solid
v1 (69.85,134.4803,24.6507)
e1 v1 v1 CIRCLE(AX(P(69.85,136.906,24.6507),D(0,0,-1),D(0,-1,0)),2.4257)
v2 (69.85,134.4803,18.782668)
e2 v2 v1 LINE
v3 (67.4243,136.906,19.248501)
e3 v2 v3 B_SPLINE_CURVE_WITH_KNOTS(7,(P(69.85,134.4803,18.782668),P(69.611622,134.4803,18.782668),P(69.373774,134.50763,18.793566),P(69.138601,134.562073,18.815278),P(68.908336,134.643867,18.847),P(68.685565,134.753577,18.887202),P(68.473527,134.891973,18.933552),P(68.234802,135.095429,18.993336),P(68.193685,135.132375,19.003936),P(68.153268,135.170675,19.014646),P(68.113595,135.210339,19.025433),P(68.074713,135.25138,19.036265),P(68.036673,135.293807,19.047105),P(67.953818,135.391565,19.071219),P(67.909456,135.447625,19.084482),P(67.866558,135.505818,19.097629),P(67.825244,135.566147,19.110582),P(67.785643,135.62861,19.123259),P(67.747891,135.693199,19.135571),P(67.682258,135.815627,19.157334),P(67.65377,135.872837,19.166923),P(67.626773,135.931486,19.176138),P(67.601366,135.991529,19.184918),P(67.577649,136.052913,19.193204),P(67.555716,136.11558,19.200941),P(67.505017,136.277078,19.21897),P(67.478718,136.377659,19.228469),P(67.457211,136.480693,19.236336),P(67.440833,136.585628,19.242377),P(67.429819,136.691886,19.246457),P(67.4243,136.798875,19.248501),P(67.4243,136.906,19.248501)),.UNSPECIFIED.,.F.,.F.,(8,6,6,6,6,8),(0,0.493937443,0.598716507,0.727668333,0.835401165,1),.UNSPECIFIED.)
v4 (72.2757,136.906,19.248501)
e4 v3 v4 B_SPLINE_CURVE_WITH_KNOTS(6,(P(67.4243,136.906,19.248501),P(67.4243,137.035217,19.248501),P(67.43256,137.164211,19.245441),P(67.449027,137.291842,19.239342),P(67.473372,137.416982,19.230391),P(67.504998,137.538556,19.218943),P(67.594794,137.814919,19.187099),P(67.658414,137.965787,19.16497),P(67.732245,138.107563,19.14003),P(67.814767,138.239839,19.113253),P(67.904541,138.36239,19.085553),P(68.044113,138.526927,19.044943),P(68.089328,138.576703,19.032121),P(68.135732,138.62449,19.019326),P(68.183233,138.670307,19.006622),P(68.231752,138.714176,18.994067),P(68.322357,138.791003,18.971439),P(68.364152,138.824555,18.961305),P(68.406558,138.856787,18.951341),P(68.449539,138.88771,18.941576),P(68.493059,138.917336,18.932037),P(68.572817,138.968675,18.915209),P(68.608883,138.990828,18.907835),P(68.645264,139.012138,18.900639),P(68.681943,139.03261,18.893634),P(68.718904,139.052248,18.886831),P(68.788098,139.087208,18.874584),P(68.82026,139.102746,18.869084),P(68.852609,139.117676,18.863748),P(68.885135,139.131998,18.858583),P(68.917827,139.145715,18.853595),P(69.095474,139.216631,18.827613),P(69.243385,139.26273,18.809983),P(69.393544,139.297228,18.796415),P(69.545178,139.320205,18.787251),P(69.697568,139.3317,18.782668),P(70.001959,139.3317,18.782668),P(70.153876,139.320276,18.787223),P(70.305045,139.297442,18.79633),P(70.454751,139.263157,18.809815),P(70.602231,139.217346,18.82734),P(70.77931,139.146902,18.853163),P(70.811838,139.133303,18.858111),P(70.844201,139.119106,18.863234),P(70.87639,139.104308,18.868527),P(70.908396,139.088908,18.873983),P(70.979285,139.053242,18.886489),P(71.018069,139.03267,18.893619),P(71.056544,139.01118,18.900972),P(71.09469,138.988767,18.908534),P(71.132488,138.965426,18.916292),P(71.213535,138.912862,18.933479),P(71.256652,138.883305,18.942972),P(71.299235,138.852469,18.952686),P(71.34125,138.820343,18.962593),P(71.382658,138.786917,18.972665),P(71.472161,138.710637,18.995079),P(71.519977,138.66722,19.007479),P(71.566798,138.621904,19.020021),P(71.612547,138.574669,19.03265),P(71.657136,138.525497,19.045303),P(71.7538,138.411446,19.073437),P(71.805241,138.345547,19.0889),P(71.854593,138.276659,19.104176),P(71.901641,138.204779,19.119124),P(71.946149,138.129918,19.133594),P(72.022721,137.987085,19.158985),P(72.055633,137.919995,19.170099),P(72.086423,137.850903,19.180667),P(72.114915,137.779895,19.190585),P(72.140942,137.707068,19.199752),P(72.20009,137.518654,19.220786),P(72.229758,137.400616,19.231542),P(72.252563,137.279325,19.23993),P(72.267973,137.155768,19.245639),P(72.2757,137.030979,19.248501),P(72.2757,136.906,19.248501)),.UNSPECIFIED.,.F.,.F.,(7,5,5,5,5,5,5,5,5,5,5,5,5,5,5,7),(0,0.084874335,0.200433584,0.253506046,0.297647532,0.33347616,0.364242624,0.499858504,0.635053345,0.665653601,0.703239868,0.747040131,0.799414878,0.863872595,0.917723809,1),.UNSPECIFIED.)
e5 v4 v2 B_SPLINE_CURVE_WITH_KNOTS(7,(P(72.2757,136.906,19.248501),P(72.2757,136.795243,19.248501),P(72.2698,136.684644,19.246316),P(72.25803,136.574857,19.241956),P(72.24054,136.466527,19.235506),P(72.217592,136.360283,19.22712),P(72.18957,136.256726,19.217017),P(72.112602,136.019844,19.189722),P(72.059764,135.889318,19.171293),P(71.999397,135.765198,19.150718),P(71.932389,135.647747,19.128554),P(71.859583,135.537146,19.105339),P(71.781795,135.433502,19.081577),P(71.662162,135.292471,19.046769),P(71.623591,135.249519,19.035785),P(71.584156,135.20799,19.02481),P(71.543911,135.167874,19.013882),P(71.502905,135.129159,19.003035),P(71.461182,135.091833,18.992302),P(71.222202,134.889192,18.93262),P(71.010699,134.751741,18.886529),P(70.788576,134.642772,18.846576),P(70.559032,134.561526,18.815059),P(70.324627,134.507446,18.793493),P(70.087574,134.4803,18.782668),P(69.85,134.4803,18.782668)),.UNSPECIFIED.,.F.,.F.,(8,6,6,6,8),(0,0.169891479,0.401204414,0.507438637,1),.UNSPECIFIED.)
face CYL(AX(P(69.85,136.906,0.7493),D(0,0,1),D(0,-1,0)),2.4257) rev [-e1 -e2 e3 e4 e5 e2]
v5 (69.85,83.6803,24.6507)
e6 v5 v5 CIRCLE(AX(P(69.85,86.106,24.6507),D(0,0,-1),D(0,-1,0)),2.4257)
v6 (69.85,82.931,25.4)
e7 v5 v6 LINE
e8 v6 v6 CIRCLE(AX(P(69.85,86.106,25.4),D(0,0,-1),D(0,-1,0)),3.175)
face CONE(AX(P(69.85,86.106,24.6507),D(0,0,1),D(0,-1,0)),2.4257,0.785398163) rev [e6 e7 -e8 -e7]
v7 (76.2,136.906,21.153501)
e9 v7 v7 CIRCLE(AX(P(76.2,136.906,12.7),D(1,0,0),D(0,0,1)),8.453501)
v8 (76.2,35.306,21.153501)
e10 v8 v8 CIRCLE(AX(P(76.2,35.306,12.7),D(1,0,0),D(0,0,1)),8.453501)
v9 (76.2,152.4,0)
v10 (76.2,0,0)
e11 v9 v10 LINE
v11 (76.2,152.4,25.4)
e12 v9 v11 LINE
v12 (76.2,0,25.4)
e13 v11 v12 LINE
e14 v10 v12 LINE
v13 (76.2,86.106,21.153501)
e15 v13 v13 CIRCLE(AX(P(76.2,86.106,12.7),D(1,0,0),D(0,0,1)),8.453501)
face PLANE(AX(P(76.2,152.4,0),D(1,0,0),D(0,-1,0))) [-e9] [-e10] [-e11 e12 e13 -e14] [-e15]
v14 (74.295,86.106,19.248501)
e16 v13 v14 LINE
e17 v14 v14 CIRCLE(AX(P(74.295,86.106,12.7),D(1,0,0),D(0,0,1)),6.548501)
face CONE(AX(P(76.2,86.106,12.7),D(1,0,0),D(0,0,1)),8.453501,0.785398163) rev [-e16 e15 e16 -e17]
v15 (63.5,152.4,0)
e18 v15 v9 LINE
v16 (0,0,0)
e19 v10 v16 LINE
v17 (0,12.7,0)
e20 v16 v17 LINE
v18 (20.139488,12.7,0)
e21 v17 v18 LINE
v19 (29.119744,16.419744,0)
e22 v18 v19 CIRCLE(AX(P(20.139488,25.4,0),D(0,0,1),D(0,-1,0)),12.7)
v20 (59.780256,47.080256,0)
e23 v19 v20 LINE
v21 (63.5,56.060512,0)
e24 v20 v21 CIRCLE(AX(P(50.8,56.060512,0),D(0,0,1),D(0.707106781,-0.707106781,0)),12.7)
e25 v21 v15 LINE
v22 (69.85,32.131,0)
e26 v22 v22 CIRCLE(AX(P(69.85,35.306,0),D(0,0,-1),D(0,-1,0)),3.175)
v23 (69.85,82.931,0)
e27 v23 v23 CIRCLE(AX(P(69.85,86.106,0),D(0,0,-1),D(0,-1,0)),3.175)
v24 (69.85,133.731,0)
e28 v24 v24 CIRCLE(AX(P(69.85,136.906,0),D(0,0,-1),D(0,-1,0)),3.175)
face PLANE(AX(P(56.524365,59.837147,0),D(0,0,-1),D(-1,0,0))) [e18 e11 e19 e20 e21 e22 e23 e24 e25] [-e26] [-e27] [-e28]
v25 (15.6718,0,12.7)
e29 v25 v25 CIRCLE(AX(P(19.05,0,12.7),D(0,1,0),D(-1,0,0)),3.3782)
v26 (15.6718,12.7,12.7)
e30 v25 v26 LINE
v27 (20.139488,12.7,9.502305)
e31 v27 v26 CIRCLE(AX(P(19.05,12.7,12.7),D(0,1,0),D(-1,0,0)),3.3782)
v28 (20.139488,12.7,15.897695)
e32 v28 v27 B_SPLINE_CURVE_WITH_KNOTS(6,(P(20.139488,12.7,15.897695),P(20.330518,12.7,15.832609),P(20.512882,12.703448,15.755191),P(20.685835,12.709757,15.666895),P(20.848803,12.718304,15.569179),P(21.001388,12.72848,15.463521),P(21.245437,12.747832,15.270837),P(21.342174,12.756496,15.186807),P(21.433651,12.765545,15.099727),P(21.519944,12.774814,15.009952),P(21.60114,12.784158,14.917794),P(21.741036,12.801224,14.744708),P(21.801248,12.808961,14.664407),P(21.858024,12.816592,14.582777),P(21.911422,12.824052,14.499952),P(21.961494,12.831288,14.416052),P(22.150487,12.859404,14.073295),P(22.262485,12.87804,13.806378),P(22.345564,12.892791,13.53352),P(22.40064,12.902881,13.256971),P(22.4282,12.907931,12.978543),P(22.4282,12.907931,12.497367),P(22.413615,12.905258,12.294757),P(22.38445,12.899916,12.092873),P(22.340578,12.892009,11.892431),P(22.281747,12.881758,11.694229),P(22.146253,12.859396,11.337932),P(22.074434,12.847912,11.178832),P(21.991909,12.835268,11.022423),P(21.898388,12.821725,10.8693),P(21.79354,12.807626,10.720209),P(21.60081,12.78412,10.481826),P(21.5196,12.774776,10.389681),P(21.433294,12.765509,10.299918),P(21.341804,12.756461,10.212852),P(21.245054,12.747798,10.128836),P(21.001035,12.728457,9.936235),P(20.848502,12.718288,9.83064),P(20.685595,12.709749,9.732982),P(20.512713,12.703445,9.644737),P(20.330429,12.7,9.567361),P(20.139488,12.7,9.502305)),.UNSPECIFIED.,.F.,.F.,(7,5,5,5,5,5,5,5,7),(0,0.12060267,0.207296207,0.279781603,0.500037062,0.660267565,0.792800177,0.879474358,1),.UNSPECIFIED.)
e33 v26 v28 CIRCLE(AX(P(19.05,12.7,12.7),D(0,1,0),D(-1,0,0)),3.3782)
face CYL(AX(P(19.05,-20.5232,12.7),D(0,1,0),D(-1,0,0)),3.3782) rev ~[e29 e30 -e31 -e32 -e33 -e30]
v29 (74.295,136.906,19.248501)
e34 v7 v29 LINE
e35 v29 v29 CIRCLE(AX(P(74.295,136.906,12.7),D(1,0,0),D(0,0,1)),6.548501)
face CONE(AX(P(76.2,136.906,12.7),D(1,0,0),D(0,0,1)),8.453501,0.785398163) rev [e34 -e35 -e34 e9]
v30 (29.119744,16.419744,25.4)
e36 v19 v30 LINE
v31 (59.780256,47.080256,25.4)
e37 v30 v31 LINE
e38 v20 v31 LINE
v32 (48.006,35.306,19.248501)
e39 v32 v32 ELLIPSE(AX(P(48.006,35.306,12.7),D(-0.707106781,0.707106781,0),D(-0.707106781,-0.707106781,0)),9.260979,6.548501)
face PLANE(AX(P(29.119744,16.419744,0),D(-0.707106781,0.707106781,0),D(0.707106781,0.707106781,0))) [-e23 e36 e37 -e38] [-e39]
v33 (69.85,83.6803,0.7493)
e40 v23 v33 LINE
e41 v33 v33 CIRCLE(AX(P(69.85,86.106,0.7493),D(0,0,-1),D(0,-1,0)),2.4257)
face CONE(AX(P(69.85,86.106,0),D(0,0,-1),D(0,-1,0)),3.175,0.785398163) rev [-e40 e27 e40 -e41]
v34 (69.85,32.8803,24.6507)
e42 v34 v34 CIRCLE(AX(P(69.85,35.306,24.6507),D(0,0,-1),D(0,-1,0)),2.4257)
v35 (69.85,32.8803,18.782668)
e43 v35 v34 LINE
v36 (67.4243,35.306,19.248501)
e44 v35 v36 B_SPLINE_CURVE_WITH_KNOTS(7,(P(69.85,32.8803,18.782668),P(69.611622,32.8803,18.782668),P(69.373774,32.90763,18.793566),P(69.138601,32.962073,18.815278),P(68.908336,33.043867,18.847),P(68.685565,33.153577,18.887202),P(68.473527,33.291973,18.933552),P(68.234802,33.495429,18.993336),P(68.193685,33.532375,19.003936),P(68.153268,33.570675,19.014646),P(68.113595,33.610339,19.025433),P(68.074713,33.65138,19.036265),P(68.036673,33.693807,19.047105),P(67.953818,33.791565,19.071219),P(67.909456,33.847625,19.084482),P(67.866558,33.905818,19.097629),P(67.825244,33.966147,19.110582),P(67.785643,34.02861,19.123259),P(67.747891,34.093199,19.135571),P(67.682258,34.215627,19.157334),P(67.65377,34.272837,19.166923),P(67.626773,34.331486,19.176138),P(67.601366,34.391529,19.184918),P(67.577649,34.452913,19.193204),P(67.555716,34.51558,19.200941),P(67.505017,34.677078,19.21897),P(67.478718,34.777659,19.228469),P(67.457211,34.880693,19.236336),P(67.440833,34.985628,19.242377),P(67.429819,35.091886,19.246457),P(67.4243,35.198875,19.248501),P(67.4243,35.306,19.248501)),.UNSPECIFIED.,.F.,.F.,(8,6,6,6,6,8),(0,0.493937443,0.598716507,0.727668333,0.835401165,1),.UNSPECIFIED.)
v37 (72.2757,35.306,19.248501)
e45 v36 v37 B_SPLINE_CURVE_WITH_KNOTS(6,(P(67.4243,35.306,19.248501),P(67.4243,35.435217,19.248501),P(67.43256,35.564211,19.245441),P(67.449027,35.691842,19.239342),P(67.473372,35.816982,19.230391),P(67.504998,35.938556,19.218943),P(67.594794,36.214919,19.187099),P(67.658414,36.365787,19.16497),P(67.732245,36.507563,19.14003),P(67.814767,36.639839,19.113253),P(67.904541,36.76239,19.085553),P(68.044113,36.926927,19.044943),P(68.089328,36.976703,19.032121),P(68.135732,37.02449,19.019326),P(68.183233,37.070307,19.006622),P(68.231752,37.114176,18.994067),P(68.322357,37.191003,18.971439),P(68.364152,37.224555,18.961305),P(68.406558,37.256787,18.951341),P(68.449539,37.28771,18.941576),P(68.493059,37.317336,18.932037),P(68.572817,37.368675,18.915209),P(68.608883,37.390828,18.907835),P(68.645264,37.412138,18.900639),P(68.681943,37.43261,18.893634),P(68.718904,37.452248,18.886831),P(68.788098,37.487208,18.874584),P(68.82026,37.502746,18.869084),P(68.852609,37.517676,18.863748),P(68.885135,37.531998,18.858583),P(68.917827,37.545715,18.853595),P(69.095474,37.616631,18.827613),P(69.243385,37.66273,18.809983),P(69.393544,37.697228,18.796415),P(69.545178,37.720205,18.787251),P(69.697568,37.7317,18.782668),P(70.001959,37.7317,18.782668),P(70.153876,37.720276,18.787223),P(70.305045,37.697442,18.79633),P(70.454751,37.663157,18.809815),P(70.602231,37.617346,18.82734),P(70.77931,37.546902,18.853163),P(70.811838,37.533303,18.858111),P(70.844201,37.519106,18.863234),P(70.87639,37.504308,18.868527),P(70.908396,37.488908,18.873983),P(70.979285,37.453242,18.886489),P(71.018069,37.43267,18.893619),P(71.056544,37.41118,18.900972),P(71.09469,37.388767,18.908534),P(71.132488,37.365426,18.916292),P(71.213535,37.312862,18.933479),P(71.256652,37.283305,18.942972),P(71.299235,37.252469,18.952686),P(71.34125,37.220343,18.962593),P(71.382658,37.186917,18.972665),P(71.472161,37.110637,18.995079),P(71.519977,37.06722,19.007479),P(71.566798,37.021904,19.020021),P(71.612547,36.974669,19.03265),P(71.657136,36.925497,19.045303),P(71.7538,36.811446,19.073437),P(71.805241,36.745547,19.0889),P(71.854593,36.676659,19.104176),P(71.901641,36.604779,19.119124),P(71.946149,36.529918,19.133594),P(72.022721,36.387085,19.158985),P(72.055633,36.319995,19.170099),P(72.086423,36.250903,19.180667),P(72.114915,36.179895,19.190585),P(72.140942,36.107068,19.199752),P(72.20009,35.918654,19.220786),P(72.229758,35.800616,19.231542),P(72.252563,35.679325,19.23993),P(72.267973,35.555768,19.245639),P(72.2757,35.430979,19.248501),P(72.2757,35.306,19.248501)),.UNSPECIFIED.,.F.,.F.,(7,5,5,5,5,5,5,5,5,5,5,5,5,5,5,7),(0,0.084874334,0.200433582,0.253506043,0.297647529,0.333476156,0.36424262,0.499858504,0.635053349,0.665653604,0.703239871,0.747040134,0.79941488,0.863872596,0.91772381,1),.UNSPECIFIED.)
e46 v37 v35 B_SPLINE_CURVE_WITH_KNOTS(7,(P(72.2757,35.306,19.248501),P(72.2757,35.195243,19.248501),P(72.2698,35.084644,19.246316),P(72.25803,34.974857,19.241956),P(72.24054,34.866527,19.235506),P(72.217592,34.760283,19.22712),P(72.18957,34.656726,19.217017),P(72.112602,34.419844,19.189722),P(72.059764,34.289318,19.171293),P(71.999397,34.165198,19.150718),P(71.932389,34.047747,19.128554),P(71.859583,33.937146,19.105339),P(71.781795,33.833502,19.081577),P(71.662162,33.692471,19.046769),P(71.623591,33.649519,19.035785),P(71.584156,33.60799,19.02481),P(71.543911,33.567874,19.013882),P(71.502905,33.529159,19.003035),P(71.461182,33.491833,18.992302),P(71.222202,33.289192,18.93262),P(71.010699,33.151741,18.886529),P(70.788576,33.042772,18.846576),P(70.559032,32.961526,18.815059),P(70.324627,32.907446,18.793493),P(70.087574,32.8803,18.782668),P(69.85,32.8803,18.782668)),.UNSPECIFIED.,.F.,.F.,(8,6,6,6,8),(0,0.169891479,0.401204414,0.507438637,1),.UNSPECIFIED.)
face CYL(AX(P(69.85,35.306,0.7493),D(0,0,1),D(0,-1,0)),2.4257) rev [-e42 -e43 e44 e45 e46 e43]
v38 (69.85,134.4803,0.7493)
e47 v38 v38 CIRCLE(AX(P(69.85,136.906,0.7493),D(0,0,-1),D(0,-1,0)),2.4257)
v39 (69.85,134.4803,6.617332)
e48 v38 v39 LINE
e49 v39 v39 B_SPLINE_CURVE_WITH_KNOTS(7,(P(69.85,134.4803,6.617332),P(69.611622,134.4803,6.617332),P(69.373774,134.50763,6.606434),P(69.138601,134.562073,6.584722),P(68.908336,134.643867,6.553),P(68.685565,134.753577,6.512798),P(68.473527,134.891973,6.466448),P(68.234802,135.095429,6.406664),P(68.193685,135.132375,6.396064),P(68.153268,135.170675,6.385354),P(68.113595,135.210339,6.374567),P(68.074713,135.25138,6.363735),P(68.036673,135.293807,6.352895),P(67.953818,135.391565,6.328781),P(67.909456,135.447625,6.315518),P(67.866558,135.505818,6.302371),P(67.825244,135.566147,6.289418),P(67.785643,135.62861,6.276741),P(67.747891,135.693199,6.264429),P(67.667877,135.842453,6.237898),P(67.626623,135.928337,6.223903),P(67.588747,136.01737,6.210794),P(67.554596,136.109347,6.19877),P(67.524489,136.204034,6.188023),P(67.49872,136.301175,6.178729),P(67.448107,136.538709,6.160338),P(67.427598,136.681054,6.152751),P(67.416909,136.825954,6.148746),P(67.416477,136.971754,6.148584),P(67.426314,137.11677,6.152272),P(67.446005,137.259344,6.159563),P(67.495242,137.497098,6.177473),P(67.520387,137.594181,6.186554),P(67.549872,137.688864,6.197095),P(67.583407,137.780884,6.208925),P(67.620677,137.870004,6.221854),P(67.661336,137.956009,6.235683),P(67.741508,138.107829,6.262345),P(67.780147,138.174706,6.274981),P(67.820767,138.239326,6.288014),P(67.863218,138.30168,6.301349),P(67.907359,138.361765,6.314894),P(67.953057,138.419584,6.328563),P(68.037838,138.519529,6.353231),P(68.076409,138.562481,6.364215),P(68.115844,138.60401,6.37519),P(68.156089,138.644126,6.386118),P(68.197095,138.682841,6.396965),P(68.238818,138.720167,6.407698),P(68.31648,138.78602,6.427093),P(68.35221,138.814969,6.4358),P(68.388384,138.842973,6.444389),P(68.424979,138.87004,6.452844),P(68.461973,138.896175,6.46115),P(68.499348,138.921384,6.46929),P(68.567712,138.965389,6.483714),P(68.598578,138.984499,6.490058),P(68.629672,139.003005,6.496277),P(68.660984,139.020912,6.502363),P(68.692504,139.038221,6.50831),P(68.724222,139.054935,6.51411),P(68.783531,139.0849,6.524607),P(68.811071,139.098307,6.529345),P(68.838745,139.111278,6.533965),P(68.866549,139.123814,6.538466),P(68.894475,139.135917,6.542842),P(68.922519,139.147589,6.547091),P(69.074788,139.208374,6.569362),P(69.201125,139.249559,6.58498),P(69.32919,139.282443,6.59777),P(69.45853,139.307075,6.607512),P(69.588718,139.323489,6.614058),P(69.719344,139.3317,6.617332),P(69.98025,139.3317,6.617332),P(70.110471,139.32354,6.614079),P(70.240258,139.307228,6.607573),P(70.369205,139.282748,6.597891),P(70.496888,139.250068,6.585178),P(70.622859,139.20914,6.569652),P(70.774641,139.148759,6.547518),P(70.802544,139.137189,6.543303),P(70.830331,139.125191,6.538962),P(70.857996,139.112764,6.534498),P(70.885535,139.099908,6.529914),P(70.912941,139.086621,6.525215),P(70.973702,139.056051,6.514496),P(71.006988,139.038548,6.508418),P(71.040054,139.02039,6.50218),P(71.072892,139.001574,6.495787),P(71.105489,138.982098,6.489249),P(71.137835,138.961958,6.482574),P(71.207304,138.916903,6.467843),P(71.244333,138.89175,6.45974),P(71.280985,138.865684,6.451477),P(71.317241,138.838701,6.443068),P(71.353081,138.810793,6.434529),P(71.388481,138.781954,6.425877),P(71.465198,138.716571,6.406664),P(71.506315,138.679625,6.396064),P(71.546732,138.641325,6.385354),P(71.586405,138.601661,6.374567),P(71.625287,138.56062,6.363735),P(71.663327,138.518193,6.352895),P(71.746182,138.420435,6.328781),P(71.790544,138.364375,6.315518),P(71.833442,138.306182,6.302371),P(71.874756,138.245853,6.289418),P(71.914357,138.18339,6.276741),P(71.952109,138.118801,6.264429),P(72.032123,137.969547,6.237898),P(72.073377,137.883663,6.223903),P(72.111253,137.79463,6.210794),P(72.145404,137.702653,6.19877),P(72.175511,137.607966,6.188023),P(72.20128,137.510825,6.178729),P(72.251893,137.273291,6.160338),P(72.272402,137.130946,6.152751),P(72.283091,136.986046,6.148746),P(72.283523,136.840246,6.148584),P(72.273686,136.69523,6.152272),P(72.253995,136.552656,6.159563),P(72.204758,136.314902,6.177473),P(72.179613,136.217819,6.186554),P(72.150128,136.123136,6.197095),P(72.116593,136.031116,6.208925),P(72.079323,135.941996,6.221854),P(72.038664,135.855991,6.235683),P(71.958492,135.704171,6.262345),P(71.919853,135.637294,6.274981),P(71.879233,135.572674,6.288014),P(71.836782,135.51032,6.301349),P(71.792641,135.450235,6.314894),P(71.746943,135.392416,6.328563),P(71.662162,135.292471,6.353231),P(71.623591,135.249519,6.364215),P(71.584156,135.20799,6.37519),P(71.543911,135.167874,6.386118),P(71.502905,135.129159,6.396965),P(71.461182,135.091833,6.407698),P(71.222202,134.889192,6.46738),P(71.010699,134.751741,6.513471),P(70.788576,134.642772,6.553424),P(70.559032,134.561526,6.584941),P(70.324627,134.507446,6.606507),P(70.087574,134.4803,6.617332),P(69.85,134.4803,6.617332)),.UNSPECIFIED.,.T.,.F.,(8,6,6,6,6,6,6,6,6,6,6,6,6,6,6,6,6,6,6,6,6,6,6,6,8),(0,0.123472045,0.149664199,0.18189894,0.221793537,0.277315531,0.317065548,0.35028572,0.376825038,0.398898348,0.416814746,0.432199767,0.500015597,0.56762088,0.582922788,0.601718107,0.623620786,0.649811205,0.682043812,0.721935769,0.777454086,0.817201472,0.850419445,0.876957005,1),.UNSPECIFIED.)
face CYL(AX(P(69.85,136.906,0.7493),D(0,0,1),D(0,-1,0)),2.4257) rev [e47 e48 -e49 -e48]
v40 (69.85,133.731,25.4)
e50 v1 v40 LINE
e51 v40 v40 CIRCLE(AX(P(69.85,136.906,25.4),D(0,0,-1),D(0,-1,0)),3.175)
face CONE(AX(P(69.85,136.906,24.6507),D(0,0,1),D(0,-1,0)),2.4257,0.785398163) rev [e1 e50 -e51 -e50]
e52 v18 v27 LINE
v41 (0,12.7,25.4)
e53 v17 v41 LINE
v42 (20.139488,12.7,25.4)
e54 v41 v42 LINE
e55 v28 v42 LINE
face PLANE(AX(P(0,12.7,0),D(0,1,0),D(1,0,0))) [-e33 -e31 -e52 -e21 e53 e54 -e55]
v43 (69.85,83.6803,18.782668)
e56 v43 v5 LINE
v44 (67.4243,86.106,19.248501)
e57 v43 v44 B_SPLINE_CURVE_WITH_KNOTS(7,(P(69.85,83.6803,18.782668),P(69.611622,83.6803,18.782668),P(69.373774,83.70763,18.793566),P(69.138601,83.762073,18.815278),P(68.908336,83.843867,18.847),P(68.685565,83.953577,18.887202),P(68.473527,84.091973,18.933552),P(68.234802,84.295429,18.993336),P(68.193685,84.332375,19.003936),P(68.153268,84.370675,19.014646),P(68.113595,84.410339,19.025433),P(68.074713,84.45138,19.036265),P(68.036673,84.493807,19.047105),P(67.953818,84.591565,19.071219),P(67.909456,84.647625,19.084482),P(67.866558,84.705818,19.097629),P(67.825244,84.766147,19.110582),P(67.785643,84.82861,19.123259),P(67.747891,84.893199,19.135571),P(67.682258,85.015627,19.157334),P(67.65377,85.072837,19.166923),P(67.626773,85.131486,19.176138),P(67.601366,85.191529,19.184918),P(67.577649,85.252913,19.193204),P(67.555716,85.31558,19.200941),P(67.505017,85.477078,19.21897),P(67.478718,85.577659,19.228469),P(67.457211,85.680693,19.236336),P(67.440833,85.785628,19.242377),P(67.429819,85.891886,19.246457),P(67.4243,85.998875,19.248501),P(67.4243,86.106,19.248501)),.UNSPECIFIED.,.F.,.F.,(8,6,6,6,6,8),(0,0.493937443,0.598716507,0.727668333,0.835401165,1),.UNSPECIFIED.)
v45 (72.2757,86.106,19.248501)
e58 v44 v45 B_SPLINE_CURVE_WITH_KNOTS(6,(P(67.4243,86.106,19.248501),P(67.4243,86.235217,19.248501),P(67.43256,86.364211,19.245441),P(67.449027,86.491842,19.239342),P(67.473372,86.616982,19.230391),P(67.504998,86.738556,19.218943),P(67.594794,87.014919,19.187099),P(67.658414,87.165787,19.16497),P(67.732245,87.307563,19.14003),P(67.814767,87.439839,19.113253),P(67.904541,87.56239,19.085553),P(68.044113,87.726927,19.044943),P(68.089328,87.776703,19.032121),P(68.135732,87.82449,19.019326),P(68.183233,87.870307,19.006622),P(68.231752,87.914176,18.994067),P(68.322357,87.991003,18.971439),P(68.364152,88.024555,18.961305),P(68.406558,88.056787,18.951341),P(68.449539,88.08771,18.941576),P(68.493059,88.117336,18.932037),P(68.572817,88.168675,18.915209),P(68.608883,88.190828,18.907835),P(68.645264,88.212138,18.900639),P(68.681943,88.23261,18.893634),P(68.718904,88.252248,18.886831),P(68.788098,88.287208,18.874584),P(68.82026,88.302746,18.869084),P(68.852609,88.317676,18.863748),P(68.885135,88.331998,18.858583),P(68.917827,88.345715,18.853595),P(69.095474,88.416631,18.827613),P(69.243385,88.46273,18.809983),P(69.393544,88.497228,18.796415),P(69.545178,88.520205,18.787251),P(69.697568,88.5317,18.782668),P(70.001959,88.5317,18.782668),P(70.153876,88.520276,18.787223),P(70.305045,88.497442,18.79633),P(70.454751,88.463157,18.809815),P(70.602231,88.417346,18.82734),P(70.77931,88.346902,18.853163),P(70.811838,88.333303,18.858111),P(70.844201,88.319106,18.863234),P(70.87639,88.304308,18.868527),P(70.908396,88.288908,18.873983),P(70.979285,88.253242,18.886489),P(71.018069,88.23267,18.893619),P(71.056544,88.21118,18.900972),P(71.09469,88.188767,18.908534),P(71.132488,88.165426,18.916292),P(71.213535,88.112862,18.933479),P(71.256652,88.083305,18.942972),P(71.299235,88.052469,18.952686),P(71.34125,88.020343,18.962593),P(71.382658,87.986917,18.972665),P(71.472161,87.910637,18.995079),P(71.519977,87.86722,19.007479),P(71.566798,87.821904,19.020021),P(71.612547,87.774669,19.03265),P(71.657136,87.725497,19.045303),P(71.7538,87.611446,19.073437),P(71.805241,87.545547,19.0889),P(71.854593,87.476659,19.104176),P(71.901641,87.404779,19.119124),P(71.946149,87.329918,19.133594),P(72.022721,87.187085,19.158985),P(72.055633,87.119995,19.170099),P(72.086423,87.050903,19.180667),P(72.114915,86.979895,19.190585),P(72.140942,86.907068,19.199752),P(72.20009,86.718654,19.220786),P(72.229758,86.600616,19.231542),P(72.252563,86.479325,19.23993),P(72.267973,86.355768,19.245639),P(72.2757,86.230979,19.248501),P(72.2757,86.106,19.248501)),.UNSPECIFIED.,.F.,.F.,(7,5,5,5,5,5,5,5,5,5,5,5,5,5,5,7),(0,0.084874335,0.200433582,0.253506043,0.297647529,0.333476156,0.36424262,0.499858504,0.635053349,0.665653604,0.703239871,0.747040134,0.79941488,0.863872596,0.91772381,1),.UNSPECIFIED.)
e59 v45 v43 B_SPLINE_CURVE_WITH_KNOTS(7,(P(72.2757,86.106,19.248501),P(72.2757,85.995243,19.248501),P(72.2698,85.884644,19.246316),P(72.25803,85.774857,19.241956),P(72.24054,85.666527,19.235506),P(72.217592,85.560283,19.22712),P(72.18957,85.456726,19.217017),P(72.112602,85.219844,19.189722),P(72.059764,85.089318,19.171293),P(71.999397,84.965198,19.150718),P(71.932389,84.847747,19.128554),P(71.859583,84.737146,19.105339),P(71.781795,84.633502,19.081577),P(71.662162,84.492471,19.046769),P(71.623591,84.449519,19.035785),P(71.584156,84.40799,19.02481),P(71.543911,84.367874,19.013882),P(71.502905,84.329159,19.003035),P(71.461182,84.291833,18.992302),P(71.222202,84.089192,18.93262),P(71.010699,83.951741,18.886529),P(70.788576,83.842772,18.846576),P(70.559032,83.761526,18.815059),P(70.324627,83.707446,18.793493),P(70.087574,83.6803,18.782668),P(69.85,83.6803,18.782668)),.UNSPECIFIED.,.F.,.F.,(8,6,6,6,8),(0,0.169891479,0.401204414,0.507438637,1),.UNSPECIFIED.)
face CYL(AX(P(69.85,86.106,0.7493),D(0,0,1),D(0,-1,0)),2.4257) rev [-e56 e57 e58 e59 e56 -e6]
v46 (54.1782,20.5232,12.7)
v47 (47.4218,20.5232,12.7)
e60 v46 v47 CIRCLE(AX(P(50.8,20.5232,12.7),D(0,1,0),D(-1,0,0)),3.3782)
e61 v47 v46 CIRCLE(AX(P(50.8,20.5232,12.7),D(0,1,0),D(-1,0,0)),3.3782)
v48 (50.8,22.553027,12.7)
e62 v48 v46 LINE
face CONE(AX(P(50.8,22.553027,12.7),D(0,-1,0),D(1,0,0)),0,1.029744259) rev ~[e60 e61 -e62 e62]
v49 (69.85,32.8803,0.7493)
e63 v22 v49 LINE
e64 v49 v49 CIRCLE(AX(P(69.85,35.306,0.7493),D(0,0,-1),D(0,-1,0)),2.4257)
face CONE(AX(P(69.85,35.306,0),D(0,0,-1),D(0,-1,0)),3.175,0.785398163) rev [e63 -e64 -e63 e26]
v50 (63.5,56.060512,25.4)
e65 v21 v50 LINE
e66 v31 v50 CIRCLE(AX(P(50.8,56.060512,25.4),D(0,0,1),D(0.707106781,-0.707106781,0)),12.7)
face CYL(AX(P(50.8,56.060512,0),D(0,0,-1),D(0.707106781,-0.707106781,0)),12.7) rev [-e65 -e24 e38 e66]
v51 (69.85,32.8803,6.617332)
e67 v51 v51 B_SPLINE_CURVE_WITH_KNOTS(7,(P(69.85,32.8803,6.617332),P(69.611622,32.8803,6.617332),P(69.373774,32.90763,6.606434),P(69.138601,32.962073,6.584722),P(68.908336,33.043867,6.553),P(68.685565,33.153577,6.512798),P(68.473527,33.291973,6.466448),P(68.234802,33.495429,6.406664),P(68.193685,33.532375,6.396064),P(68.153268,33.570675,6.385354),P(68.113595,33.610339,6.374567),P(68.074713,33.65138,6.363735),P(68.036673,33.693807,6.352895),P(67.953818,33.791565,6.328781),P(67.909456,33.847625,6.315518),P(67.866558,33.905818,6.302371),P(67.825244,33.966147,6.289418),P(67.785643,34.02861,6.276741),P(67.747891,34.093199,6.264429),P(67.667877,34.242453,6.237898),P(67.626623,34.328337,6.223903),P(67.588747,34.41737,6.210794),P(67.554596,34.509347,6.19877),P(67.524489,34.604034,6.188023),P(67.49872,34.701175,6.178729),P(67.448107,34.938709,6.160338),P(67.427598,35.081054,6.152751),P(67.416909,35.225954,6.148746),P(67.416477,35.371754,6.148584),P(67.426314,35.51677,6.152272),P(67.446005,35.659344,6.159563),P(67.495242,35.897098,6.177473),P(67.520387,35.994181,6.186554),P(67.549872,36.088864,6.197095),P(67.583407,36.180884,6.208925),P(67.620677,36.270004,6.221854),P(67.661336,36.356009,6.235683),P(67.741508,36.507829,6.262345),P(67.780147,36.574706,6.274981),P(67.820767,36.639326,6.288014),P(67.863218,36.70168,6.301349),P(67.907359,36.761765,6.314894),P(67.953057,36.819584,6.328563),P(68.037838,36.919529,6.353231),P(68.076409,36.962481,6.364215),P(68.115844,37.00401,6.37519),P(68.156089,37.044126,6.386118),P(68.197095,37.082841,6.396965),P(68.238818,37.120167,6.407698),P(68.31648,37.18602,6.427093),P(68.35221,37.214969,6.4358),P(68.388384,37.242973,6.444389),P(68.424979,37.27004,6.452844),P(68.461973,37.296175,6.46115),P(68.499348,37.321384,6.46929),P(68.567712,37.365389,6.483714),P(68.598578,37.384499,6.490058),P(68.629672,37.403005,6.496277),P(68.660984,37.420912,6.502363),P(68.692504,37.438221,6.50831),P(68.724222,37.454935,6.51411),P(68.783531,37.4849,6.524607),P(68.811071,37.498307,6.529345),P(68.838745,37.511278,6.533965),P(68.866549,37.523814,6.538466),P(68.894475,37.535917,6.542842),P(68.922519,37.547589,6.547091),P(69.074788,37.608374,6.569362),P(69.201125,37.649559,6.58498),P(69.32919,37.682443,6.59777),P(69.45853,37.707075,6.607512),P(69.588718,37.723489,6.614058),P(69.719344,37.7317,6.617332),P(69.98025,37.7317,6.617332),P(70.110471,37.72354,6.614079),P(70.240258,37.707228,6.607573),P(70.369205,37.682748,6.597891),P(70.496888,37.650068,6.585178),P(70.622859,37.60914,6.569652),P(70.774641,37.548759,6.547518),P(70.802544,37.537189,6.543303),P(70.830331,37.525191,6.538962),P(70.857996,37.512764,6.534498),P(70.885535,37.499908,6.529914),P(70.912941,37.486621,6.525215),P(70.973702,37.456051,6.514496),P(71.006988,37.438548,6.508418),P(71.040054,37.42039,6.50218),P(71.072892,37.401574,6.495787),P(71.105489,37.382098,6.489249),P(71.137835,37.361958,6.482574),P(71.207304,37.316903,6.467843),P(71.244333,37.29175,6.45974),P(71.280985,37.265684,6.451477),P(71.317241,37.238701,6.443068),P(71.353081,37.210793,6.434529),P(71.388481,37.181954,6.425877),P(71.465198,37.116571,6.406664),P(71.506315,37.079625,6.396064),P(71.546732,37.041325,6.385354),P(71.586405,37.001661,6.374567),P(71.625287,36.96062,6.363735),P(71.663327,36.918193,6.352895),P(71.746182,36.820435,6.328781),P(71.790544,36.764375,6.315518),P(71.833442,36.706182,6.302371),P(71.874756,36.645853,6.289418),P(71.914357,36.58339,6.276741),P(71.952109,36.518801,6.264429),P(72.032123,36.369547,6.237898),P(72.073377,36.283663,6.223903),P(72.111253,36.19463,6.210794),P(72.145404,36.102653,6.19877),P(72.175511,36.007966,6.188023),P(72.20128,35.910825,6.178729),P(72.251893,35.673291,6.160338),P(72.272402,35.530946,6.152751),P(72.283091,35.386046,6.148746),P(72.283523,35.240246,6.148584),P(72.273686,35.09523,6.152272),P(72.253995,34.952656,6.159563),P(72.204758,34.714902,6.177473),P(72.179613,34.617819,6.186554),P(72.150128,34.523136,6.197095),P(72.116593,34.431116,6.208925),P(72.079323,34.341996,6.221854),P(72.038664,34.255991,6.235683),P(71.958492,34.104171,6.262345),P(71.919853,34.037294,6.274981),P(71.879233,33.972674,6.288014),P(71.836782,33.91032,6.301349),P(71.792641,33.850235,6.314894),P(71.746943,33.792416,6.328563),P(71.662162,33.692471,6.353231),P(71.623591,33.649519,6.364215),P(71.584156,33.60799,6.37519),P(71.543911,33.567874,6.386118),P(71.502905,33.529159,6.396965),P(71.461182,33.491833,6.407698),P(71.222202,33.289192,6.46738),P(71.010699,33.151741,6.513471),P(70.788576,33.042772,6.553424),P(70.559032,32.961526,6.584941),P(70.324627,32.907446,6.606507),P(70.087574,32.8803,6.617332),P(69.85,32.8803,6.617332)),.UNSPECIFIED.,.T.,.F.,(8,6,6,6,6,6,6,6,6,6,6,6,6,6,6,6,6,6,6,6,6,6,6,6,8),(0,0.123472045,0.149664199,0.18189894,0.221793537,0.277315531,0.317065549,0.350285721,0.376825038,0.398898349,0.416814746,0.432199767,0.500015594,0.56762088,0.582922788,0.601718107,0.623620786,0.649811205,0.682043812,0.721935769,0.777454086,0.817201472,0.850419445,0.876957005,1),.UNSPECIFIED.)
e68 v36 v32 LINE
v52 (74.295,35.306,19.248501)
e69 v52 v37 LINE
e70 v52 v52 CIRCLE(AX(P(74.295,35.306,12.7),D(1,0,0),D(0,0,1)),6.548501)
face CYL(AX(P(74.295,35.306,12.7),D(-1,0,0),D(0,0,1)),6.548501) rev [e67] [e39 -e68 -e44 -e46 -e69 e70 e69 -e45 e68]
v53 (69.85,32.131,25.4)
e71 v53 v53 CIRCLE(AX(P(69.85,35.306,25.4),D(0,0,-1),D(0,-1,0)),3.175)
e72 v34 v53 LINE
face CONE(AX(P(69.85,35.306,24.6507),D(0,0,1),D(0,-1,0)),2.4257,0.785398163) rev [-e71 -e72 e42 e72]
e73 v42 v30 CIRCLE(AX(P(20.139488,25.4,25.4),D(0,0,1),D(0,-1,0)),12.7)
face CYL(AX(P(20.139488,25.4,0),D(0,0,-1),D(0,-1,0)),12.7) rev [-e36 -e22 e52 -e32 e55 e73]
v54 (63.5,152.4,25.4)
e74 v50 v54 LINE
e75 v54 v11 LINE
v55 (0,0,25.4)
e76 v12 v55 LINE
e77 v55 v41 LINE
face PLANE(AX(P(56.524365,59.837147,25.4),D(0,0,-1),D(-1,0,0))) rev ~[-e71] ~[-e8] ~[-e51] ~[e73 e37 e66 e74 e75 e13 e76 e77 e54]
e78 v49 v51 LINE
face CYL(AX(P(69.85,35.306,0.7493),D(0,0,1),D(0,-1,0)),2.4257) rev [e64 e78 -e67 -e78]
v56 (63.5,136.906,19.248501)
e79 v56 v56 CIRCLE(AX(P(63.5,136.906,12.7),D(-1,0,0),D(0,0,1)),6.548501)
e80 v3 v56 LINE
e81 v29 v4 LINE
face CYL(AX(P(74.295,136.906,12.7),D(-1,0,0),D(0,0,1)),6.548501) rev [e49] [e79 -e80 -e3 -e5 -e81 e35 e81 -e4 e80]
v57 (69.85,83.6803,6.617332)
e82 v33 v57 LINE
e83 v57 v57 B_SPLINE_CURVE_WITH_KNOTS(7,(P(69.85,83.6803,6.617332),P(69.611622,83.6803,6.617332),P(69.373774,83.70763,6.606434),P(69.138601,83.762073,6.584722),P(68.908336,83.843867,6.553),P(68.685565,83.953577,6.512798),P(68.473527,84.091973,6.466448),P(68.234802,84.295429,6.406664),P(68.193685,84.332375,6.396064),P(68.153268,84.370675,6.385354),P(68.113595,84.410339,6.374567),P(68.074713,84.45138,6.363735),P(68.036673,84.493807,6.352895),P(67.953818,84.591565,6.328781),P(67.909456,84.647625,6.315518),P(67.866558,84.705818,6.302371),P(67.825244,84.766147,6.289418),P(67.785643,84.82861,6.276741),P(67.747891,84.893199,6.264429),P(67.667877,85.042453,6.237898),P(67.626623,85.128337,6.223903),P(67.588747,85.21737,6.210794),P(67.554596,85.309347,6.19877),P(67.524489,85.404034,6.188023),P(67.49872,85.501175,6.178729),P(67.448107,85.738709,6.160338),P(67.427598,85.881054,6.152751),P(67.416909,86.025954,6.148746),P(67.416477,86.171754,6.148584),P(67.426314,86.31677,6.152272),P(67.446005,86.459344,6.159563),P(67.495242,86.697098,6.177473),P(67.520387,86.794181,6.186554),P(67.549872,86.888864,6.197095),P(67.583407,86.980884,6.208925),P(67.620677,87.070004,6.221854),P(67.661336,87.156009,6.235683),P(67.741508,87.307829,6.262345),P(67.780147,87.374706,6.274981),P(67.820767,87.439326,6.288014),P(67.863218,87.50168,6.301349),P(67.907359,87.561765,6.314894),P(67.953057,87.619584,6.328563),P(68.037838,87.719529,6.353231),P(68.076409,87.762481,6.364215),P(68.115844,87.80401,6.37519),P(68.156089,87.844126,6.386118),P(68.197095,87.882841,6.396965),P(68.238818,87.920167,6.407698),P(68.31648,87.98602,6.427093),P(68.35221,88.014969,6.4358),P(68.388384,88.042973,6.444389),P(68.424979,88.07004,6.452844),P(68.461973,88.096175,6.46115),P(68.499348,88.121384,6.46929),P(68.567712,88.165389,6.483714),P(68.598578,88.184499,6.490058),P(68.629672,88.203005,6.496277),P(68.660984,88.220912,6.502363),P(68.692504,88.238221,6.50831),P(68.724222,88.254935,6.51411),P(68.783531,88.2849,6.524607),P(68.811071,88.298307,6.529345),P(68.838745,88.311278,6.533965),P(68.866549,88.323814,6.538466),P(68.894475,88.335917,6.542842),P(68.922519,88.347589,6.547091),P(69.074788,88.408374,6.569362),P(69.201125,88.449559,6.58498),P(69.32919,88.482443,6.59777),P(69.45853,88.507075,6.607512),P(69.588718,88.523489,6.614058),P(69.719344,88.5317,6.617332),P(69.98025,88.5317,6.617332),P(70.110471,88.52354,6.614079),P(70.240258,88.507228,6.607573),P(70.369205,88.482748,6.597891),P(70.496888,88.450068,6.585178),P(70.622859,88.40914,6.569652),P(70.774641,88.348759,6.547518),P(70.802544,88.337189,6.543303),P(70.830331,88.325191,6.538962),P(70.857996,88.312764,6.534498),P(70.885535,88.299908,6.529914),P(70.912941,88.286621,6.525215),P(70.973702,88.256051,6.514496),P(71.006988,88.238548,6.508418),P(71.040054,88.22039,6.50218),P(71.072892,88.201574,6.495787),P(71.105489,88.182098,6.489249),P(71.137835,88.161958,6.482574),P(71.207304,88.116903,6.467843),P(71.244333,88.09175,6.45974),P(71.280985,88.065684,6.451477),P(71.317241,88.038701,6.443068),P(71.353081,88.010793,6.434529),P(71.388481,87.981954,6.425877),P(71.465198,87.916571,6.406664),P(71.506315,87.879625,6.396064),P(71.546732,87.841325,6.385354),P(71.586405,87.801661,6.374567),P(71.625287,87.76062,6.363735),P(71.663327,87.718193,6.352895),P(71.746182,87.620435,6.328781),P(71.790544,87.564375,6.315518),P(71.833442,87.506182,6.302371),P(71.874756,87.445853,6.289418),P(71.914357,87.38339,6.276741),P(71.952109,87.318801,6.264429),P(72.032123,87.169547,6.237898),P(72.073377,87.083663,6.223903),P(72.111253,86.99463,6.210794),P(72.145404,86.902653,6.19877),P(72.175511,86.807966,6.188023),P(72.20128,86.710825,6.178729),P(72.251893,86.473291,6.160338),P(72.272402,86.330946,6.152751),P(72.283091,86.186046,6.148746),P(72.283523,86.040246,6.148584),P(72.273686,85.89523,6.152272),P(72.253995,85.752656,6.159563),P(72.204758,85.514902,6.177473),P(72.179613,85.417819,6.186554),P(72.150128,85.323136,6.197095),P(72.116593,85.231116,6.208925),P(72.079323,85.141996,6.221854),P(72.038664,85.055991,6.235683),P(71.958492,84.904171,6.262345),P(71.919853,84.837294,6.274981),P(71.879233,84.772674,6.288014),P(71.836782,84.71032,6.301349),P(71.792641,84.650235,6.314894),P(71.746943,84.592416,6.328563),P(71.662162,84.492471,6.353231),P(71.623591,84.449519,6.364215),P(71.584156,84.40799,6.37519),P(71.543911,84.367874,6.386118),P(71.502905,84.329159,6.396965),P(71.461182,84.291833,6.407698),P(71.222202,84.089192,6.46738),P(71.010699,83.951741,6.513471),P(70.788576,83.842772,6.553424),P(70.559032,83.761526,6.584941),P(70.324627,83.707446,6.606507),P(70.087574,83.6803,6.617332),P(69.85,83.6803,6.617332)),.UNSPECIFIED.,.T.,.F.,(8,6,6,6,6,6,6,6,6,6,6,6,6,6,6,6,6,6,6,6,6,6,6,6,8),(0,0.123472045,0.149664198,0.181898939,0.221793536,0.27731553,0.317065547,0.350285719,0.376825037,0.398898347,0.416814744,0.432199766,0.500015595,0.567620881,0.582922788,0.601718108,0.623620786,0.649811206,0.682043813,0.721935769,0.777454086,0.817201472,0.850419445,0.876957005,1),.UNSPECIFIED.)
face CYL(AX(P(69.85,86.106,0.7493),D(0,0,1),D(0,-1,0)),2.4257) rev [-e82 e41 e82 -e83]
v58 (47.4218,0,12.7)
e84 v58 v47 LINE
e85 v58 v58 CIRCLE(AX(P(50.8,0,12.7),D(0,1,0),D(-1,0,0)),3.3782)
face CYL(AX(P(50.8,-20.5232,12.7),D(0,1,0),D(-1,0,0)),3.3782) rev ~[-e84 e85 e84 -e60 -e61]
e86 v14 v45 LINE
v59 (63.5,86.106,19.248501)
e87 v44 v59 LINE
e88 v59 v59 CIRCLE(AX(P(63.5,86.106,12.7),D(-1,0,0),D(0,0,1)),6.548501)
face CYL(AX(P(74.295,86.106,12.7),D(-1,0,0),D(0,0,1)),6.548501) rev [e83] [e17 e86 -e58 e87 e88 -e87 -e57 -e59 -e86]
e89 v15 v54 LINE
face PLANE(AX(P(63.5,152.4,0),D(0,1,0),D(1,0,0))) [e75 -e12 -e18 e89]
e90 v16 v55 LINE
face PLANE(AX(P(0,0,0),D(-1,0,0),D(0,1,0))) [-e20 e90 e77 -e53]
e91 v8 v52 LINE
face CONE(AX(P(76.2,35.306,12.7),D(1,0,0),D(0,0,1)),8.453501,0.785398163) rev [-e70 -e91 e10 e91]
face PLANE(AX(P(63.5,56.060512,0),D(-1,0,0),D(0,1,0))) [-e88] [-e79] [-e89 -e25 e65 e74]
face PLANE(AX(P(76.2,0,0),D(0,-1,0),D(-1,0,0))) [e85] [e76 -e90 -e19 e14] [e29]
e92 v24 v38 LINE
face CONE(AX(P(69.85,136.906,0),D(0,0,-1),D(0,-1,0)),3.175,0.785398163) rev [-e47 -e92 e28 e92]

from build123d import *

# Parameters (mm, degrees)
BOSS_EXTRUDE1_DEPTH                       = 25.4
TAPPED_HOLE_FOR_1_4_20_HELICOIL1_D        = 6.7564
TAPPED_HOLE_FOR_1_4_20_HELICOIL1_DEPTH    = 20.5232
TAPPED_HOLE_FOR_1_4_20_HELICOIL1_TIP      = 2.029827343
F_33_64_0_51563_DIAMETER_HOLE1_AT_2_COUNT = 2
F_33_64_0_51563_DIAMETER_HOLE1_AT_2_PITCH = 50.8
F_33_64_0_51563_DIAMETER_HOLE1_AT_3_COUNT = 2
F_33_64_0_51563_DIAMETER_HOLE1_AT_3_PITCH = 50.8
F_11_0_191_DIAMETER_HOLE1_AT_2_COUNT      = 2
F_11_0_191_DIAMETER_HOLE1_AT_2_PITCH      = 50.8
F_11_0_191_DIAMETER_HOLE1_AT_3_COUNT      = 2
F_11_0_191_DIAMETER_HOLE1_AT_3_PITCH      = 50.8


with BuildPart() as part:
    # Sketch1 → Boss-Extrude1 (new body)
    with BuildSketch(Plane.XY):
        with BuildLine():
            Line((0, 0), (0, 12.7))
            Line((0, 12.7), (20.139487758, 12.7))
            ThreePointArc((20.139487758, 12.7), (24.999567349, 13.666729937), (29.119743879, 16.419743879))
            Line((29.119743879, 16.419743879), (59.780256121, 47.080256121))
            ThreePointArc((59.780256121, 47.080256121), (62.533270063, 51.200432651), (63.5, 56.060512242))
            Line((63.5, 56.060512242), (63.5, 152.4))
            Line((63.5, 152.4), (76.2, 152.4))
            Line((76.2, 152.4), (76.2, 0))
            Line((76.2, 0), (0, 0))
        make_face()
    extrude(amount=BOSS_EXTRUDE1_DEPTH)

    # Tapped Hole for 1/4-20 Helicoil1
    with Locations(Plane.XZ):
        with Locations((19.05, 12.7), (50.8, 12.7)):
            Hole(TAPPED_HOLE_FOR_1_4_20_HELICOIL1_D / 2, depth=TAPPED_HOLE_FOR_1_4_20_HELICOIL1_DEPTH)
            with Locations((0, 0, -(TAPPED_HOLE_FOR_1_4_20_HELICOIL1_DEPTH + TAPPED_HOLE_FOR_1_4_20_HELICOIL1_TIP / 2))):  # 118° drill point
                Cone(0, TAPPED_HOLE_FOR_1_4_20_HELICOIL1_D / 2, TAPPED_HOLE_FOR_1_4_20_HELICOIL1_TIP, mode=Mode.SUBTRACT)

    # Sketch5 → 33/64 (0.51563) Diameter Hole1 (revolve, cut)
    with BuildSketch(Plane(origin=(0, 86.106, 12.7), x_dir=(0, 0, 1), z_dir=(0, 1, 0))):
        Polygon((0, 0), (0, 76.2), (8.453501, 76.2), (6.548501, 74.295), (6.548501, 0), align=None)
    f_33_64_0_51563_diameter_hole1 = revolve(axis=Axis((-6.35, 86.106, 12.7), (1, 0, 0)), mode=Mode.SUBTRACT)

    # 33/64 (0.51563) Diameter Hole1 at 2: 33/64 (0.51563) Diameter Hole1 ×2
    with Locations(*[(0, i * F_33_64_0_51563_DIAMETER_HOLE1_AT_2_PITCH, 0) for i in range(1, F_33_64_0_51563_DIAMETER_HOLE1_AT_2_COUNT)]):
        add(f_33_64_0_51563_diameter_hole1, mode=Mode.SUBTRACT)

    # 33/64 (0.51563) Diameter Hole1 at 3: 33/64 (0.51563) Diameter Hole1 ×2
    with Locations(*[(0, -i * F_33_64_0_51563_DIAMETER_HOLE1_AT_3_PITCH, 0) for i in range(1, F_33_64_0_51563_DIAMETER_HOLE1_AT_3_COUNT)]):
        add(f_33_64_0_51563_diameter_hole1, mode=Mode.SUBTRACT)

    # Sketch7 → #11 (0.191) Diameter Hole1 (revolve, cut)
    with BuildSketch(Plane(origin=(69.85, 86.106, 25.4), x_dir=(0, -1, 0), z_dir=(1, 0, 0))):
        Polygon((0, 0), (0, 25.4), (3.175, 25.4), (2.4257, 24.6507), (2.4257, 0.7493), (3.175, 0), align=None)
    f_11_0_191_diameter_hole1 = revolve(axis=Axis((69.85, 86.106, 31.75), (0, 0, -1)), mode=Mode.SUBTRACT)

    # #11 (0.191) Diameter Hole1 at 2: #11 (0.191) Diameter Hole1 ×2
    with Locations(*[(0, i * F_11_0_191_DIAMETER_HOLE1_AT_2_PITCH, 0) for i in range(1, F_11_0_191_DIAMETER_HOLE1_AT_2_COUNT)]):
        add(f_11_0_191_diameter_hole1, mode=Mode.SUBTRACT)

    # #11 (0.191) Diameter Hole1 at 3: #11 (0.191) Diameter Hole1 ×2
    with Locations(*[(0, -i * F_11_0_191_DIAMETER_HOLE1_AT_3_PITCH, 0) for i in range(1, F_11_0_191_DIAMETER_HOLE1_AT_3_COUNT)]):
        add(f_11_0_191_diameter_hole1, mode=Mode.SUBTRACT)


solid = part.part
